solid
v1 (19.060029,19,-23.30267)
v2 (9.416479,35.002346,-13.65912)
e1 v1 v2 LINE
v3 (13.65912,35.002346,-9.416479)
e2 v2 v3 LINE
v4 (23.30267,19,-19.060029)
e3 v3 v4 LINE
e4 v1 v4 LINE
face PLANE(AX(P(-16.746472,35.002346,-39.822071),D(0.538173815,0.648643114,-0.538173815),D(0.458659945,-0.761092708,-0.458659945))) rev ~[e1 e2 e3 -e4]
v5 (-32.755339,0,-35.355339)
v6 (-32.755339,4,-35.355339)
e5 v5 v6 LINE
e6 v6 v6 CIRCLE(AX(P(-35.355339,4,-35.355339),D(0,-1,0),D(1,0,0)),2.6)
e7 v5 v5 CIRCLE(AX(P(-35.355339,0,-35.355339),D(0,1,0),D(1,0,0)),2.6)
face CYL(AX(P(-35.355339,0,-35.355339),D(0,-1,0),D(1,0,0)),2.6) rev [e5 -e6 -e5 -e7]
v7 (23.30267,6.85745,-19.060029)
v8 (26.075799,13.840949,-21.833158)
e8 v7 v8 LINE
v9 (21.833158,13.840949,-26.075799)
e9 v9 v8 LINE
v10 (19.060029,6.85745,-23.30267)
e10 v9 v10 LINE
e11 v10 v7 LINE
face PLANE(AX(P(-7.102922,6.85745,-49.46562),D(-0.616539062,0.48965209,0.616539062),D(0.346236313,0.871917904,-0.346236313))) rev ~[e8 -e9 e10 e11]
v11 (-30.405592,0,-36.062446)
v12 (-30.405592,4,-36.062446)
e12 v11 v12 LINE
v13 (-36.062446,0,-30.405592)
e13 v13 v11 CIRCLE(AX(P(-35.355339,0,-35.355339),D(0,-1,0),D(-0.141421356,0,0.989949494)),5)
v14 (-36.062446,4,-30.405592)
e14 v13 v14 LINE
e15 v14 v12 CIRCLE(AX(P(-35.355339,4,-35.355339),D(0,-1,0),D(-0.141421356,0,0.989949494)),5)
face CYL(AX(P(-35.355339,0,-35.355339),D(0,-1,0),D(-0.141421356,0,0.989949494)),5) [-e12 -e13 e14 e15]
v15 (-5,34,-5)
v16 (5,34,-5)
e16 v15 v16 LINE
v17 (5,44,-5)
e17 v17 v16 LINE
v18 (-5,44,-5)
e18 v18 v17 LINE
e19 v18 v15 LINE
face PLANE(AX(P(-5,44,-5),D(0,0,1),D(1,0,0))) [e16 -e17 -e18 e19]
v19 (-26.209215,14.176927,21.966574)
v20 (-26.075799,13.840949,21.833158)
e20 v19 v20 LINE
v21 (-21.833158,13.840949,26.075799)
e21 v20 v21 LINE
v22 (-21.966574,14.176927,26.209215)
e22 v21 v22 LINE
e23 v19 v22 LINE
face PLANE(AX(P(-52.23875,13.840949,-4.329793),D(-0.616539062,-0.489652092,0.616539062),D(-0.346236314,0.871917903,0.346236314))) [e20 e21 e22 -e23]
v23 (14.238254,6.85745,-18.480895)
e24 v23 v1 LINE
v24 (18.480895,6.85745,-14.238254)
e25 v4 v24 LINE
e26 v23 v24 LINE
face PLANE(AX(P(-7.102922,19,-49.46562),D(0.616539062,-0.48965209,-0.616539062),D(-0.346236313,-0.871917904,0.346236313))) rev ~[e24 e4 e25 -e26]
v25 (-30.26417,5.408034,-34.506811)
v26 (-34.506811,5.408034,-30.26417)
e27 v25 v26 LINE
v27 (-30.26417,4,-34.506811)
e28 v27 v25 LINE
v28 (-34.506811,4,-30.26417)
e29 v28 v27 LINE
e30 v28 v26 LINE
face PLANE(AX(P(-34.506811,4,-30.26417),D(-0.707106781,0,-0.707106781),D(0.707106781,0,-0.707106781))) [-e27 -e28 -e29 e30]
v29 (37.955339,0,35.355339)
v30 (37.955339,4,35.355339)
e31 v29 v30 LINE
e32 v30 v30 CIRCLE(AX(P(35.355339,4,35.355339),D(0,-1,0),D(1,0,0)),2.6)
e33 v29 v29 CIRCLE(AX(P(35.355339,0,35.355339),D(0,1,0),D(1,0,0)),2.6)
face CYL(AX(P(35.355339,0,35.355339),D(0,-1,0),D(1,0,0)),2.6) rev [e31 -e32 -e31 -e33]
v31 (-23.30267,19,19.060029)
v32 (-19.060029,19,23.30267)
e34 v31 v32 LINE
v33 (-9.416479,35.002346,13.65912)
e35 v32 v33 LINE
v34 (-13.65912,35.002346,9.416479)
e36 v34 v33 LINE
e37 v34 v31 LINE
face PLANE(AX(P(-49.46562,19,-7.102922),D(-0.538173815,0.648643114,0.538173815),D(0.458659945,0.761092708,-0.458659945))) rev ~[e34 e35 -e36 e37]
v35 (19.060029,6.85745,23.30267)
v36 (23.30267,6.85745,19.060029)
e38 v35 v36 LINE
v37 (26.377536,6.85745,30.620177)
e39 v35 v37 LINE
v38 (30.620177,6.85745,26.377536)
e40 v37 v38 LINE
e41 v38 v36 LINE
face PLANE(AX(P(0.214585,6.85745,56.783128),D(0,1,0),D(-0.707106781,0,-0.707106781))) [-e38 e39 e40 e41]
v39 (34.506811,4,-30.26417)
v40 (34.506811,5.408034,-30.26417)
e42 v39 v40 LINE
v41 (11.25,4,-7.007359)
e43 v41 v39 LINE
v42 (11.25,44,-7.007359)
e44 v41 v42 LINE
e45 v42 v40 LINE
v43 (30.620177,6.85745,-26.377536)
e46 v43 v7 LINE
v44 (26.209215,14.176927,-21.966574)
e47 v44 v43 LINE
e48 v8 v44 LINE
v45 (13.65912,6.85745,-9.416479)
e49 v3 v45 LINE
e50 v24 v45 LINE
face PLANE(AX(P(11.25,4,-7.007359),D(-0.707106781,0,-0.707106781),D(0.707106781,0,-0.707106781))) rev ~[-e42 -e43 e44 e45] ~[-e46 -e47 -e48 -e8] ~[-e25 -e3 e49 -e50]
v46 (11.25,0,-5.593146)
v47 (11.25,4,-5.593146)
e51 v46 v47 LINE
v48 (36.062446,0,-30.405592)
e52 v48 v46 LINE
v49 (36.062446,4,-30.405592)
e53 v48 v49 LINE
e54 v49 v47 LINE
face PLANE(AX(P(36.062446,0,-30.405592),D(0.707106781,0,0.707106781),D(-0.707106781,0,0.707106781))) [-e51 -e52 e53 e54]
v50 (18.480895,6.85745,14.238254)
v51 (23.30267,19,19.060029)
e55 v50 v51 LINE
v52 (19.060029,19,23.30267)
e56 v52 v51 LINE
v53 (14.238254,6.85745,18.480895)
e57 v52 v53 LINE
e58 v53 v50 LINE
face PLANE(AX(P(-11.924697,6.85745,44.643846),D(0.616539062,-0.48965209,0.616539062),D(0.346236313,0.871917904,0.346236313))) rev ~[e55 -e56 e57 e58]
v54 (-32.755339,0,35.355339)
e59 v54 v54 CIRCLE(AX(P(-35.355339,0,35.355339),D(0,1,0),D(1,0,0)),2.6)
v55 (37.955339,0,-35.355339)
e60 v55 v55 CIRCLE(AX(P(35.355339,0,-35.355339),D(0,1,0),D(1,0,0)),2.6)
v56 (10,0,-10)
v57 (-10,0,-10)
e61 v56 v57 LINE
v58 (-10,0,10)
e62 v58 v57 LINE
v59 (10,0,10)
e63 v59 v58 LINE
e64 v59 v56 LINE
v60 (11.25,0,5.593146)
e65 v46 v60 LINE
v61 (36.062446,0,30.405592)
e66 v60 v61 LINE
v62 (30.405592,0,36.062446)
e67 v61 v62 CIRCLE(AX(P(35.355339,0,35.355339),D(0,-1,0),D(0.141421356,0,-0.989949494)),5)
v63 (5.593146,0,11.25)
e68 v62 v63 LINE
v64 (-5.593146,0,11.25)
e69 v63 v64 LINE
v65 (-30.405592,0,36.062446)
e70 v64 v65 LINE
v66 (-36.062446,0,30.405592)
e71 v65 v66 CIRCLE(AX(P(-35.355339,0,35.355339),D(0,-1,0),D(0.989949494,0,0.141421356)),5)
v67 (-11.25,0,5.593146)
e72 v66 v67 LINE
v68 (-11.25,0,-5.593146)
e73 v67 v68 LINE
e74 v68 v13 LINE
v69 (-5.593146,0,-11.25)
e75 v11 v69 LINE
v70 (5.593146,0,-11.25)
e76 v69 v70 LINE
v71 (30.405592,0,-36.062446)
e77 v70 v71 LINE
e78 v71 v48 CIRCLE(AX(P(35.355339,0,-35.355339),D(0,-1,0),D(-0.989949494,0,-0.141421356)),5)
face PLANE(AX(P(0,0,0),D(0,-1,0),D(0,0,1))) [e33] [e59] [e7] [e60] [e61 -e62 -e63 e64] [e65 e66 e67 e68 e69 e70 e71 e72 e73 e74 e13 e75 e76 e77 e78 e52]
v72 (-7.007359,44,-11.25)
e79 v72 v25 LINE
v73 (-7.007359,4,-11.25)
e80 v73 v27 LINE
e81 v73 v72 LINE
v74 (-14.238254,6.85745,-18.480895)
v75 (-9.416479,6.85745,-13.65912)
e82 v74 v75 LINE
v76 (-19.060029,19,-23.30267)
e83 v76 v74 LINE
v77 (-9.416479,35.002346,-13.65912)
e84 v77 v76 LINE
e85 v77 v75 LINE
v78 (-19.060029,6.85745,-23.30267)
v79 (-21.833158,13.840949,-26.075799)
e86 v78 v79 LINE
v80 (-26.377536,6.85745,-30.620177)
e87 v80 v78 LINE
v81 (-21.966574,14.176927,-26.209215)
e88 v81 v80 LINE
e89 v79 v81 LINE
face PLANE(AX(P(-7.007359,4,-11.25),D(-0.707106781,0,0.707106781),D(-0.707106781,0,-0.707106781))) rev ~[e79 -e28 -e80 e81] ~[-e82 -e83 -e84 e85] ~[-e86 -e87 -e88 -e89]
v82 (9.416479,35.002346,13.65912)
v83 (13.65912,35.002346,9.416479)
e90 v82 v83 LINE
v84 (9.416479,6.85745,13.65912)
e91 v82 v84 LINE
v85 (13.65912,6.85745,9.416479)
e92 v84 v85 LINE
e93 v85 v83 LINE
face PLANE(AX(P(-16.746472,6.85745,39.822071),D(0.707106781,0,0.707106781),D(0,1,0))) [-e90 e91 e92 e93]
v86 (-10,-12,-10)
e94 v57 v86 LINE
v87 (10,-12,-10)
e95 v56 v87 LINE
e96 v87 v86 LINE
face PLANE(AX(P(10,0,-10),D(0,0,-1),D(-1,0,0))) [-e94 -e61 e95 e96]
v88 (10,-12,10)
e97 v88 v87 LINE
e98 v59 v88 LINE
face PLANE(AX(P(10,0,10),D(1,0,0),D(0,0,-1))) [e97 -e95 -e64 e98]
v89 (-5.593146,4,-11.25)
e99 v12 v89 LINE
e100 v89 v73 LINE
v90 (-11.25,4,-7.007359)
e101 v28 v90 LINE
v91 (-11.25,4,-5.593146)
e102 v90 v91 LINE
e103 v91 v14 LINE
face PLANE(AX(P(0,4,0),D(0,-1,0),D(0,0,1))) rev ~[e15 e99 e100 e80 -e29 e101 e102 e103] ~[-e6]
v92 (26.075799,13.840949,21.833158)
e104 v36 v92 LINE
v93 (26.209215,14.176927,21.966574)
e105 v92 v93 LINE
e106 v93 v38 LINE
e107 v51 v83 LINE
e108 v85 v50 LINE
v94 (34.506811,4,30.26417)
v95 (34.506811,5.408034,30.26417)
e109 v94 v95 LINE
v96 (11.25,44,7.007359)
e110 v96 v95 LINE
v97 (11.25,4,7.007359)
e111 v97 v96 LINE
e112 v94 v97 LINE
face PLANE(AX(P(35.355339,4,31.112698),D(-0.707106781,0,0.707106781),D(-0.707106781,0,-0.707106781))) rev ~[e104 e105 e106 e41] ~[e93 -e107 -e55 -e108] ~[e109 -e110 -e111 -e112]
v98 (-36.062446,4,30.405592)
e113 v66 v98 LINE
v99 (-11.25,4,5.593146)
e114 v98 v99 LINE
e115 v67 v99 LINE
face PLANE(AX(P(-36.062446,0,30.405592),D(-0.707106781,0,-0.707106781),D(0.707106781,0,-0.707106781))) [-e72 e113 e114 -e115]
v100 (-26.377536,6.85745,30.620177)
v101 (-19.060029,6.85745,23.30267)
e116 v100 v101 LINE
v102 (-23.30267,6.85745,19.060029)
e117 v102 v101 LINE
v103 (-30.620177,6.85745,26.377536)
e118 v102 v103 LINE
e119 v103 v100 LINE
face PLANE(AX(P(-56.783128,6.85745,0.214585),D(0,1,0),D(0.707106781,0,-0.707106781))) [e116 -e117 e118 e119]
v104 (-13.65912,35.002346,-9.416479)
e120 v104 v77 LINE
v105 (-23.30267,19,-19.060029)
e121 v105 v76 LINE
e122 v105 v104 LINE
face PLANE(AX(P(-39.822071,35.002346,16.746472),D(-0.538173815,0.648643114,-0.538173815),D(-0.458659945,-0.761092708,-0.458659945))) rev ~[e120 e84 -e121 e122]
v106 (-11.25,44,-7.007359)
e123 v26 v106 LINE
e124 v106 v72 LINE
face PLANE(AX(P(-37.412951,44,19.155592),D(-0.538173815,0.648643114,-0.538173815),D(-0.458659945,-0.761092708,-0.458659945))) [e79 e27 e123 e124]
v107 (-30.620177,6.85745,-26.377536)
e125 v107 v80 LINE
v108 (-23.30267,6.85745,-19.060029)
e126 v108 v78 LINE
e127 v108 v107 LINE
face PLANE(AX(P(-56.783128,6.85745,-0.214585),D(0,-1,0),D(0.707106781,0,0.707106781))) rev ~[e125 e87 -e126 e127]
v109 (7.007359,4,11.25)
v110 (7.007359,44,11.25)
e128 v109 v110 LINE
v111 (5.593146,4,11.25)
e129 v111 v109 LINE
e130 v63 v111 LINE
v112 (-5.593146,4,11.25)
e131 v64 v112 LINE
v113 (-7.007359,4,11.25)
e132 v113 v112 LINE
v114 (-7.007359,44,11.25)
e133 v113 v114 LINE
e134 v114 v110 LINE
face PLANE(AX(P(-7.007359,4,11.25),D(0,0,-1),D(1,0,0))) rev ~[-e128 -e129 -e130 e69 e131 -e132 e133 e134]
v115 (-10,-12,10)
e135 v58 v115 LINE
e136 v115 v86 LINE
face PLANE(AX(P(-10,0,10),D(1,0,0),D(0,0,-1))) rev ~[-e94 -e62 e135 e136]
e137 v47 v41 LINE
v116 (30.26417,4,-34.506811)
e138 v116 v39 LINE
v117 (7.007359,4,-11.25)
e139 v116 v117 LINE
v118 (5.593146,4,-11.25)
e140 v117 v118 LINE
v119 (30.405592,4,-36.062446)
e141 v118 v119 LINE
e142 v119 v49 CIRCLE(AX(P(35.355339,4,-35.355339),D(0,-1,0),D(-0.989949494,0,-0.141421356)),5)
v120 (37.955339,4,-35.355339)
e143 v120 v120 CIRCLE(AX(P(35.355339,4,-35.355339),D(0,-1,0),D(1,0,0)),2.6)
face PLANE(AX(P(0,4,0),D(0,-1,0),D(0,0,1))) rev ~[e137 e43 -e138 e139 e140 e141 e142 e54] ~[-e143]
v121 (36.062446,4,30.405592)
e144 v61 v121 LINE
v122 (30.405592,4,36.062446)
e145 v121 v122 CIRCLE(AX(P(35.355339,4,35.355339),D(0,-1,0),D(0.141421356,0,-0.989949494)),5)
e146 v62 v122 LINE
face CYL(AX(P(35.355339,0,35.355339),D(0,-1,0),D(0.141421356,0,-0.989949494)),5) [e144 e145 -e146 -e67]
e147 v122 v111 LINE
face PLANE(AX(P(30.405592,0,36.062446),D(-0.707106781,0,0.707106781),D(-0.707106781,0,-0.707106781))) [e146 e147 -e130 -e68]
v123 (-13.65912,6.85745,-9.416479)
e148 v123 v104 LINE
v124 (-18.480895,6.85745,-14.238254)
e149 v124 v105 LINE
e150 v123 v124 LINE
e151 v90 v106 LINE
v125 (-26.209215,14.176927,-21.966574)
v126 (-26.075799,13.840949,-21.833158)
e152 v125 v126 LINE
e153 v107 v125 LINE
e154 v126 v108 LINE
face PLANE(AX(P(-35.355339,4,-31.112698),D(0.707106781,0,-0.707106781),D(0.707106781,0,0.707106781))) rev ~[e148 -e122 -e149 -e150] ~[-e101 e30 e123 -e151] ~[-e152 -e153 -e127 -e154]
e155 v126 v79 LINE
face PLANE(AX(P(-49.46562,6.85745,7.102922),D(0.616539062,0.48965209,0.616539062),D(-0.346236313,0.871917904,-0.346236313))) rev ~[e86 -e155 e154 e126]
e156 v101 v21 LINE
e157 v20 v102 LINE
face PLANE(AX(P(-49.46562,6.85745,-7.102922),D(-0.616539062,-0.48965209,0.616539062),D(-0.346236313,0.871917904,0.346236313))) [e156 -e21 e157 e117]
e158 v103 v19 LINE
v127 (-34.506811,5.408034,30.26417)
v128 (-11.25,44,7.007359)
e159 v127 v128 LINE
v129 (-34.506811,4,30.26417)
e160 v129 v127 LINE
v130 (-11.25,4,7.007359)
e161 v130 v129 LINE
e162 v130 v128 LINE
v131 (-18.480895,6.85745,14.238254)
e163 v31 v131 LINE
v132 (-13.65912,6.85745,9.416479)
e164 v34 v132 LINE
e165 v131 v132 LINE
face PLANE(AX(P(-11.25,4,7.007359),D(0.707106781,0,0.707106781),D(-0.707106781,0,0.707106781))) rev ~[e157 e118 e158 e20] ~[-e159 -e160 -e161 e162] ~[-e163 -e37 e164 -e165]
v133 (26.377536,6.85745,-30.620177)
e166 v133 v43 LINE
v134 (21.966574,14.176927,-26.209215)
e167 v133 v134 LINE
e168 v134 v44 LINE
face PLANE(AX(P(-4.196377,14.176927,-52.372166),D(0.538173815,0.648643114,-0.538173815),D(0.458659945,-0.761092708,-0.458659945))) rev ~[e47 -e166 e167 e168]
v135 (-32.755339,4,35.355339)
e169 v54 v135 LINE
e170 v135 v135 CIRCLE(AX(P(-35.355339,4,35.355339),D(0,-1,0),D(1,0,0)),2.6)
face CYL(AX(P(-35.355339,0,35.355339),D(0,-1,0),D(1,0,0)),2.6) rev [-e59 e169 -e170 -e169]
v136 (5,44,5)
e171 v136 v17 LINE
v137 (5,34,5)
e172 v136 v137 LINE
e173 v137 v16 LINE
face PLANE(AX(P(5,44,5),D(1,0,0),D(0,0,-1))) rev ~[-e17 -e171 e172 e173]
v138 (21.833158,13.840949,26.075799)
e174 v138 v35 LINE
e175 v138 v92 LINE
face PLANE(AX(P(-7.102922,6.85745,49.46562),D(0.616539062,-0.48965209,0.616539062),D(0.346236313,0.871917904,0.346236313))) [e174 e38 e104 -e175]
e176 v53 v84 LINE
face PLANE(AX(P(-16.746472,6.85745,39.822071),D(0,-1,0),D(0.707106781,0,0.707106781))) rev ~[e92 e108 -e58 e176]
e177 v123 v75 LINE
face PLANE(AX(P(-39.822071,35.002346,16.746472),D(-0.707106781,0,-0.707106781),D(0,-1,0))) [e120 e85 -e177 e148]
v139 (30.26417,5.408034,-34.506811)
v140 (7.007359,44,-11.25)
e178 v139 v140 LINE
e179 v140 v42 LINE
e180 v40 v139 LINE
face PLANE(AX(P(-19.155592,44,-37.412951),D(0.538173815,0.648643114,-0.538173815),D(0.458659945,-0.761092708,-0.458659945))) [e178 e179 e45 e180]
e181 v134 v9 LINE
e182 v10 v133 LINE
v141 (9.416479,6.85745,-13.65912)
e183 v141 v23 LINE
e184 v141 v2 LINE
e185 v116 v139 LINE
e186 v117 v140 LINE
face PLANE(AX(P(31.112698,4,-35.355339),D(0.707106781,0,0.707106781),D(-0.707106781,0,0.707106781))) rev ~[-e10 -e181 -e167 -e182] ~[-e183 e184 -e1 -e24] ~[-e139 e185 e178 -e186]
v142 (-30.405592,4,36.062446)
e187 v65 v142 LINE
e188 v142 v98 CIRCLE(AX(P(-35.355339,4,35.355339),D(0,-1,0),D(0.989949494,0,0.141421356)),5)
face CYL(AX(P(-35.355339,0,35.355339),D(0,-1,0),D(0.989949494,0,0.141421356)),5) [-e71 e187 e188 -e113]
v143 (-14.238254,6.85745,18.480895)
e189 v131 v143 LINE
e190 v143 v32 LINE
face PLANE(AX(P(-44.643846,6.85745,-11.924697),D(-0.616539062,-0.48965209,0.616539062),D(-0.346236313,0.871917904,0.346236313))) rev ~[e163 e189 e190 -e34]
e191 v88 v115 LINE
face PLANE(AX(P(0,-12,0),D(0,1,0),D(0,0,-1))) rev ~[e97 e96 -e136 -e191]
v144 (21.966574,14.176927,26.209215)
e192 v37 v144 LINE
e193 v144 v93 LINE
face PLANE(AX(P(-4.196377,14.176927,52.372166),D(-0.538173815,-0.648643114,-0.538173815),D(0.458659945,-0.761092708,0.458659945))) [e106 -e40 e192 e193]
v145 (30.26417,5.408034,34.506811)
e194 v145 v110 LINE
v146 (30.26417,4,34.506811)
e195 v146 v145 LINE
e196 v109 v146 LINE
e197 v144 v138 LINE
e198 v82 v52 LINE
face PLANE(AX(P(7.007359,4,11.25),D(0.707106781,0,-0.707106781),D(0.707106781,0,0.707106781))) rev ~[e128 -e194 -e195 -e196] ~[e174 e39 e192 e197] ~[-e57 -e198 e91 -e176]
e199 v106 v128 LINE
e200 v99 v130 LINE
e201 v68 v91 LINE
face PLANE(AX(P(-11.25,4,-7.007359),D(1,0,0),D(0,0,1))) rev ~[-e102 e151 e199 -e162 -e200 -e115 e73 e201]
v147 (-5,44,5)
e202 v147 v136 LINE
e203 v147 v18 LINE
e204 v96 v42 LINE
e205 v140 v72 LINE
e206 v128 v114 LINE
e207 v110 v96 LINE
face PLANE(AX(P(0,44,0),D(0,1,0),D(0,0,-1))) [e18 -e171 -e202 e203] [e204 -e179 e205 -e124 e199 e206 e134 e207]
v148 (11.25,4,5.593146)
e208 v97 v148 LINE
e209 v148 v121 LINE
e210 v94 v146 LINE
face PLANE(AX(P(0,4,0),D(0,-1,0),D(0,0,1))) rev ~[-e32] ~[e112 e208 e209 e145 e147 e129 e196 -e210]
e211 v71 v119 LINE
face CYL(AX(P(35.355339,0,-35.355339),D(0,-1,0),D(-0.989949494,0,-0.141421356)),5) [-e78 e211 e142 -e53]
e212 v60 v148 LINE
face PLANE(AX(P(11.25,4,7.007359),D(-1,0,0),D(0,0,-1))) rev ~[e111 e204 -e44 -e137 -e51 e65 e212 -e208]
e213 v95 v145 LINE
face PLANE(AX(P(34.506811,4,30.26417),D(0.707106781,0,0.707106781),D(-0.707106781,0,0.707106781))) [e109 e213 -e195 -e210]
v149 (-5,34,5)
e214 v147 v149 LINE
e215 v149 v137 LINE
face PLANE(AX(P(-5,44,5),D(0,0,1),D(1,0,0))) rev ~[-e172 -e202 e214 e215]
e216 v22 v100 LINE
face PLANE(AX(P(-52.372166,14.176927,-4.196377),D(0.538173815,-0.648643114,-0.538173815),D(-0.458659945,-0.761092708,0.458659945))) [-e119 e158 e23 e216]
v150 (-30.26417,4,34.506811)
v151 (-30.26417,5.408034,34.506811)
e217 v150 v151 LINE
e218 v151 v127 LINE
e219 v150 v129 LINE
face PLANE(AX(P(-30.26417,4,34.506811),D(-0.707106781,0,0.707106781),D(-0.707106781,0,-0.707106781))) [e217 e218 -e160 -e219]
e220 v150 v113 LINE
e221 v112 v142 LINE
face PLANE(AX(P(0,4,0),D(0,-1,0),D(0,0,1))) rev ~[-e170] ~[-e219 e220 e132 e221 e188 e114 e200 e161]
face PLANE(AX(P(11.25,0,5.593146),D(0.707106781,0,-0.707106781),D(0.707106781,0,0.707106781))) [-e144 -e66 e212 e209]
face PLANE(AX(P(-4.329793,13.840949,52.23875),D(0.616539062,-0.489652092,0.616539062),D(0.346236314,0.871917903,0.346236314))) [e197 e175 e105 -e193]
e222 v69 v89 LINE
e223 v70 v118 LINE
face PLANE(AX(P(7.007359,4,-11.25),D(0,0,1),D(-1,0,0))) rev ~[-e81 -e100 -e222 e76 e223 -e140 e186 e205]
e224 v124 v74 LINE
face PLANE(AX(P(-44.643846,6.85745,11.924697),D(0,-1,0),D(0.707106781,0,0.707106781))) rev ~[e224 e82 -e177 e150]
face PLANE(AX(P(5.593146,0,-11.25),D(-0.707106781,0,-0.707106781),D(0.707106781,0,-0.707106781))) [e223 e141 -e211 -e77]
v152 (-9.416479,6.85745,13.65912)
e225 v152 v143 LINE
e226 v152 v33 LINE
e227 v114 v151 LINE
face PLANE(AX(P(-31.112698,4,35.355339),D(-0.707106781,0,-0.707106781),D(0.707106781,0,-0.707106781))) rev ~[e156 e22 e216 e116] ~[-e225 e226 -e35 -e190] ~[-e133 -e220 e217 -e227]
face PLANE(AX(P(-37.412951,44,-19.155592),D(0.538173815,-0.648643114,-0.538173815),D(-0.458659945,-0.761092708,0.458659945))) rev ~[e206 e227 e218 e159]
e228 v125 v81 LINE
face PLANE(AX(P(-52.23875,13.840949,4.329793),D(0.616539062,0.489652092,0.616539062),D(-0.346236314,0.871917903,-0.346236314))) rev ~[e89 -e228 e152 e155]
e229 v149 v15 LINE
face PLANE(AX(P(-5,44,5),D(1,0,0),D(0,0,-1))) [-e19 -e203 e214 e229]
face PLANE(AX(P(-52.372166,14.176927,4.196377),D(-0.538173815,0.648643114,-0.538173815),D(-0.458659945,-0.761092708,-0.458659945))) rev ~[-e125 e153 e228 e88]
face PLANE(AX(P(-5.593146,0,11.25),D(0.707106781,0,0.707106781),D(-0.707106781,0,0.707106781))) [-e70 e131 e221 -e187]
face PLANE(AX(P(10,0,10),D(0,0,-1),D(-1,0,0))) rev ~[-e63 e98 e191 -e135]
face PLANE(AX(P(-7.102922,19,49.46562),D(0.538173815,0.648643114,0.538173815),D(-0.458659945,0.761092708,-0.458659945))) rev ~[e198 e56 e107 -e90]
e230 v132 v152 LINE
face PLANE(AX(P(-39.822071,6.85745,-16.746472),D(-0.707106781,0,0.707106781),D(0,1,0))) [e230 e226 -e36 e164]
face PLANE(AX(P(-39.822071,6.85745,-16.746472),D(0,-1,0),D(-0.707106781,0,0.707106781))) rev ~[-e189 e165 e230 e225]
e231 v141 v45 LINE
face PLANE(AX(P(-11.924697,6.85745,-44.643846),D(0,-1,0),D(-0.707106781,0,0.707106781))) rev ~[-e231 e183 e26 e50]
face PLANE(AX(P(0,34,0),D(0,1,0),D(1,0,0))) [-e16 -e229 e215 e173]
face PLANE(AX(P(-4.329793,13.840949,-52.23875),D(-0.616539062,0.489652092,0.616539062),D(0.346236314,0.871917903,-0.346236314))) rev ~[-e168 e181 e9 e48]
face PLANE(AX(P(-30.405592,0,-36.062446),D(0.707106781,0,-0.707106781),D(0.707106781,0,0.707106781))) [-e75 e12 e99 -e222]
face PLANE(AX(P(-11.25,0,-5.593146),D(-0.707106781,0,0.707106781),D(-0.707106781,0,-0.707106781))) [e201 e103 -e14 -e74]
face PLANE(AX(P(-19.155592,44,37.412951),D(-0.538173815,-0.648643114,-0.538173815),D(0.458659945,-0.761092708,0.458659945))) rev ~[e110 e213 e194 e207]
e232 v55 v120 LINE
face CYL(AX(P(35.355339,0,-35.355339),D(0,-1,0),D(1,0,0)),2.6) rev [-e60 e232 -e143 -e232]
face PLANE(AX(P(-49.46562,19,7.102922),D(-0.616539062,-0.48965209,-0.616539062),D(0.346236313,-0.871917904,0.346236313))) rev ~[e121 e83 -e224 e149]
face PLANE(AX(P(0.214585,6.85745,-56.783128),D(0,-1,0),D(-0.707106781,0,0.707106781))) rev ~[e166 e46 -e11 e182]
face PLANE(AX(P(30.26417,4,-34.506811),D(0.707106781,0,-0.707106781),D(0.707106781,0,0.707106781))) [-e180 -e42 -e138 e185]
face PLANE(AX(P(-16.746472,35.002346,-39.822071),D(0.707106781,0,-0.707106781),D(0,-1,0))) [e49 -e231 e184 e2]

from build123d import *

# Parameters (mm, degrees)
SKETCH1_W               = 20
SKETCH1_H               = 20
BOSS_EXTRUDE2_DEPTH     = 12
BOSS_EXTRUDE3_DEPTH     = 4
SKETCH3_R               = 2.6
CUT_EXTRUDE1_DEPTH      = 7
BOSS_EXTRUDE4_DEPTH     = 40
BODY_MOVE_COPY1_ANGLE   = 45
CUT_EXTRUDE2_DEPTH      = 40
CUT_EXTRUDE2_DEPTH_BACK = 40
CUT_EXTRUDE3_DEPTH      = 40
CUT_EXTRUDE3_DEPTH_BACK = 40
CUT_EXTRUDE4_DEPTH      = 40
CUT_EXTRUDE4_DEPTH_BACK = 40
CUT_EXTRUDE7_DEPTH      = 40
CUT_EXTRUDE7_DEPTH_BACK = 40
BODY_MOVE_COPY2_ANGLE   = 45
SKETCH11_W              = 10
SKETCH11_H              = 10
CUT_EXTRUDE8_DEPTH      = 10
CUT_EXTRUDE9_DEPTH      = 17


with BuildPart() as part:
    # Sketch1 → Boss-Extrude2 (new body)
    with BuildSketch(Plane(origin=(0, 0, 0), x_dir=(1, 0, 0), z_dir=(0, 1, 0))):
        Rectangle(SKETCH1_W, SKETCH1_H)
    extrude(amount=-BOSS_EXTRUDE2_DEPTH)

    # Sketch2 → Boss-Extrude3 (add)
    with BuildSketch(Plane(origin=(0, 0, 0), x_dir=(1, 0, 0), z_dir=(0, 1, 0))):
        with BuildLine():
            Line((11.25, -5.593145751), (36.062445841, -30.405591591))
            ThreePointArc((36.062445841, -30.405591591), (38.890872965, -38.890872965), (30.405591591, -36.062445841))
            Line((30.405591591, -36.062445841), (5.593145751, -11.25))
            Line((5.593145751, -11.25), (-5.593145751, -11.25))
            Line((-5.593145751, -11.25), (-30.405591591, -36.062445841))
            ThreePointArc((-30.405591591, -36.062445841), (-38.890872965, -38.890872965), (-36.062445841, -30.405591591))
            Line((-36.062445841, -30.405591591), (-11.25, -5.593145751))
            Line((-11.25, -5.593145751), (-11.25, 5.593145751))
            Line((-11.25, 5.593145751), (-36.062445841, 30.405591591))
            ThreePointArc((-36.062445841, 30.405591591), (-38.890872965, 38.890872965), (-30.405591591, 36.062445841))
            Line((-30.405591591, 36.062445841), (-5.593145751, 11.25))
            Line((-5.593145751, 11.25), (5.593145751, 11.25))
            Line((5.593145751, 11.25), (30.405591591, 36.062445841))
            ThreePointArc((30.405591591, 36.062445841), (38.890872965, 38.890872965), (36.062445841, 30.405591591))
            Line((36.062445841, 30.405591591), (11.25, 5.593145751))
            Line((11.25, 5.593145751), (11.25, -5.593145751))
        make_face()
    extrude(amount=BOSS_EXTRUDE3_DEPTH)

    # Sketch3 → Cut-Extrude1 (cut)
    with BuildSketch(Plane(origin=(0, 0, 0), x_dir=(1, 0, 0), z_dir=(0, 1, 0))):
        with Locations(Location((-35.355339059, -35.355339059, 0), (0, 0, 270))):
            Circle(SKETCH3_R)
        with Locations(Location((-35.355339059, 35.355339059, 0), (0, 0, 270))):
            Circle(SKETCH3_R)
        with Locations(Location((35.355339059, 35.355339059, 0), (0, 0, 270))):
            Circle(SKETCH3_R)
        with Locations(Location((35.355339059, -35.355339059, 0), (0, 0, 270))):
            Circle(SKETCH3_R)
    extrude(amount=CUT_EXTRUDE1_DEPTH, mode=Mode.SUBTRACT)

    # Sketch4 → Boss-Extrude4 (add)
    with BuildSketch(Plane(origin=(0, 4, 0), x_dir=(1, 0, 0), z_dir=(0, 1, 0))):
        Polygon((-35.355339059, -31.112698372), (-31.112698372, -35.355339059), (-7.007359313, -11.25), (7.007359313, -11.25), (31.112698372, -35.355339059), (35.355339059, -31.112698372), (11.25, -7.007359313), (11.25, 7.007359313), (35.355339059, 31.112698372), (31.112698372, 35.355339059), (7.007359313, 11.25), (-7.007359313, 11.25), (-31.112698372, 35.355339059), (-35.355339059, 31.112698372), (-11.25, 7.007359313), (-11.25, -7.007359313), align=None)
    extrude(amount=BOSS_EXTRUDE4_DEPTH)


with BuildPart() as part_1:
    # Body-Move/Copy1: moved
    add(part.part.rotate(Axis((0, 0, 0), (0, 1, 0)), BODY_MOVE_COPY1_ANGLE))

    # Sketch6 → Cut-Extrude2 (cut, two sides: drawn at the far end of the back side and taken through both)
    with BuildSketch(Plane(origin=(0, 0, 0), x_dir=(0, 0, -1), z_dir=(1, 0, 0)).offset(-CUT_EXTRUDE2_DEPTH_BACK)):
        Polygon((-12.909902577, 44), (-47, 4), (-47, 44), align=None)
        Polygon((47, 44), (12.909902577, 44), (47, 4), align=None)
    extrude(amount=CUT_EXTRUDE2_DEPTH + CUT_EXTRUDE2_DEPTH_BACK, mode=Mode.SUBTRACT)

    # Sketch7 → Cut-Extrude3 (cut, two sides: drawn at the far end of the back side and taken through both)
    with BuildSketch(Plane.XY.offset(-CUT_EXTRUDE3_DEPTH_BACK)):
        Polygon((-47, 44), (-12.909902577, 44), (-47, 4), align=None)
        Polygon((47, 4), (47, 44), (12.909902577, 44), align=None)
    extrude(amount=CUT_EXTRUDE3_DEPTH + CUT_EXTRUDE3_DEPTH_BACK, mode=Mode.SUBTRACT)

    # Sketch8 → Cut-Extrude4 (cut, two sides: drawn at the far end of the back side and taken through both)
    with BuildSketch(Plane.XY.offset(-CUT_EXTRUDE4_DEPTH_BACK)):
        Polygon((-23.135931904, 6.857449794), (-29.954951288, 19), (-16.316912521, 35.002346486), (-16.316912521, 9), (-16.316912521, 6.857449794), align=None)
        Polygon((-29.954951288, 6.857449794), (-33.876748144, 13.840948819), (-34.065426963, 14.176927043), (-40.303469276, 6.857449794), align=None)
        Polygon((16.316912521, 9), (16.316912521, 35.002346486), (29.954951288, 19), (23.135931904, 6.857449794), (16.316912521, 6.857449794), align=None)
        Polygon((29.954951288, 6.857449794), (33.876748144, 13.840948819), (34.065426963, 14.176927043), (40.303469276, 6.857449794), align=None)
    extrude(amount=CUT_EXTRUDE4_DEPTH + CUT_EXTRUDE4_DEPTH_BACK, mode=Mode.SUBTRACT)

    # Sketch9 → Cut-Extrude7 (cut, two sides: drawn at the far end of the back side and taken through both)
    with BuildSketch(Plane(origin=(0, 0, 0), x_dir=(0, 0, -1), z_dir=(1, 0, 0)).offset(-CUT_EXTRUDE7_DEPTH_BACK)):
        Polygon((-23.135931904, 6.857449794), (-29.954951288, 19), (-16.316912521, 35.002346486), (-16.316912521, 9), (-16.316912521, 6.857449794), align=None)
        Polygon((-29.954951288, 6.857449794), (-33.876748144, 13.840948819), (-34.065426963, 14.176927043), (-40.303469276, 6.857449794), align=None)
        Polygon((16.316912521, 9), (16.316912521, 35.002346486), (29.954951288, 19), (23.135931904, 6.857449794), (16.316912521, 6.857449794), align=None)
        Polygon((29.954951288, 6.857449794), (33.876748144, 13.840948819), (34.065426963, 14.176927043), (40.303469276, 6.857449794), align=None)
    extrude(amount=CUT_EXTRUDE7_DEPTH + CUT_EXTRUDE7_DEPTH_BACK, mode=Mode.SUBTRACT)


with BuildPart() as part_2:
    # Body-Move/Copy2: moved
    add(part_1.part.rotate(Axis((0, 0, 0), (0, 1, 0)), BODY_MOVE_COPY2_ANGLE))

    # Sketch11 → Cut-Extrude8 (cut)
    with BuildSketch(Plane(origin=(0, 44, 0), x_dir=(1, 0, 0), z_dir=(0, 1, 0))):
        Rectangle(SKETCH11_W, SKETCH11_H)
    extrude(amount=-CUT_EXTRUDE8_DEPTH, mode=Mode.SUBTRACT)

    # Sketch12 → Cut-Extrude9 (cut)
    with BuildSketch(Plane(origin=(0, 4, 0), x_dir=(1, 0, 0), z_dir=(0, 1, 0))):
        Polygon((-35.355339059, -31.112698372), (-31.112698372, -35.355339059), (-30.264170235, -34.506810922), (-34.506810922, -30.264170235), align=None)
        Polygon((-30.264170235, 34.506810922), (-31.112698372, 35.355339059), (-35.355339059, 31.112698372), (-34.506810922, 30.264170235), align=None)
        Polygon((34.506810922, 30.264170235), (35.355339059, 31.112698372), (31.112698372, 35.355339059), (30.264170235, 34.506810922), align=None)
        Polygon((30.264170235, -34.506810922), (31.112698372, -35.355339059), (35.355339059, -31.112698372), (34.506810922, -30.264170235), align=None)
    extrude(amount=CUT_EXTRUDE9_DEPTH, mode=Mode.SUBTRACT)


solid = part_2.part
